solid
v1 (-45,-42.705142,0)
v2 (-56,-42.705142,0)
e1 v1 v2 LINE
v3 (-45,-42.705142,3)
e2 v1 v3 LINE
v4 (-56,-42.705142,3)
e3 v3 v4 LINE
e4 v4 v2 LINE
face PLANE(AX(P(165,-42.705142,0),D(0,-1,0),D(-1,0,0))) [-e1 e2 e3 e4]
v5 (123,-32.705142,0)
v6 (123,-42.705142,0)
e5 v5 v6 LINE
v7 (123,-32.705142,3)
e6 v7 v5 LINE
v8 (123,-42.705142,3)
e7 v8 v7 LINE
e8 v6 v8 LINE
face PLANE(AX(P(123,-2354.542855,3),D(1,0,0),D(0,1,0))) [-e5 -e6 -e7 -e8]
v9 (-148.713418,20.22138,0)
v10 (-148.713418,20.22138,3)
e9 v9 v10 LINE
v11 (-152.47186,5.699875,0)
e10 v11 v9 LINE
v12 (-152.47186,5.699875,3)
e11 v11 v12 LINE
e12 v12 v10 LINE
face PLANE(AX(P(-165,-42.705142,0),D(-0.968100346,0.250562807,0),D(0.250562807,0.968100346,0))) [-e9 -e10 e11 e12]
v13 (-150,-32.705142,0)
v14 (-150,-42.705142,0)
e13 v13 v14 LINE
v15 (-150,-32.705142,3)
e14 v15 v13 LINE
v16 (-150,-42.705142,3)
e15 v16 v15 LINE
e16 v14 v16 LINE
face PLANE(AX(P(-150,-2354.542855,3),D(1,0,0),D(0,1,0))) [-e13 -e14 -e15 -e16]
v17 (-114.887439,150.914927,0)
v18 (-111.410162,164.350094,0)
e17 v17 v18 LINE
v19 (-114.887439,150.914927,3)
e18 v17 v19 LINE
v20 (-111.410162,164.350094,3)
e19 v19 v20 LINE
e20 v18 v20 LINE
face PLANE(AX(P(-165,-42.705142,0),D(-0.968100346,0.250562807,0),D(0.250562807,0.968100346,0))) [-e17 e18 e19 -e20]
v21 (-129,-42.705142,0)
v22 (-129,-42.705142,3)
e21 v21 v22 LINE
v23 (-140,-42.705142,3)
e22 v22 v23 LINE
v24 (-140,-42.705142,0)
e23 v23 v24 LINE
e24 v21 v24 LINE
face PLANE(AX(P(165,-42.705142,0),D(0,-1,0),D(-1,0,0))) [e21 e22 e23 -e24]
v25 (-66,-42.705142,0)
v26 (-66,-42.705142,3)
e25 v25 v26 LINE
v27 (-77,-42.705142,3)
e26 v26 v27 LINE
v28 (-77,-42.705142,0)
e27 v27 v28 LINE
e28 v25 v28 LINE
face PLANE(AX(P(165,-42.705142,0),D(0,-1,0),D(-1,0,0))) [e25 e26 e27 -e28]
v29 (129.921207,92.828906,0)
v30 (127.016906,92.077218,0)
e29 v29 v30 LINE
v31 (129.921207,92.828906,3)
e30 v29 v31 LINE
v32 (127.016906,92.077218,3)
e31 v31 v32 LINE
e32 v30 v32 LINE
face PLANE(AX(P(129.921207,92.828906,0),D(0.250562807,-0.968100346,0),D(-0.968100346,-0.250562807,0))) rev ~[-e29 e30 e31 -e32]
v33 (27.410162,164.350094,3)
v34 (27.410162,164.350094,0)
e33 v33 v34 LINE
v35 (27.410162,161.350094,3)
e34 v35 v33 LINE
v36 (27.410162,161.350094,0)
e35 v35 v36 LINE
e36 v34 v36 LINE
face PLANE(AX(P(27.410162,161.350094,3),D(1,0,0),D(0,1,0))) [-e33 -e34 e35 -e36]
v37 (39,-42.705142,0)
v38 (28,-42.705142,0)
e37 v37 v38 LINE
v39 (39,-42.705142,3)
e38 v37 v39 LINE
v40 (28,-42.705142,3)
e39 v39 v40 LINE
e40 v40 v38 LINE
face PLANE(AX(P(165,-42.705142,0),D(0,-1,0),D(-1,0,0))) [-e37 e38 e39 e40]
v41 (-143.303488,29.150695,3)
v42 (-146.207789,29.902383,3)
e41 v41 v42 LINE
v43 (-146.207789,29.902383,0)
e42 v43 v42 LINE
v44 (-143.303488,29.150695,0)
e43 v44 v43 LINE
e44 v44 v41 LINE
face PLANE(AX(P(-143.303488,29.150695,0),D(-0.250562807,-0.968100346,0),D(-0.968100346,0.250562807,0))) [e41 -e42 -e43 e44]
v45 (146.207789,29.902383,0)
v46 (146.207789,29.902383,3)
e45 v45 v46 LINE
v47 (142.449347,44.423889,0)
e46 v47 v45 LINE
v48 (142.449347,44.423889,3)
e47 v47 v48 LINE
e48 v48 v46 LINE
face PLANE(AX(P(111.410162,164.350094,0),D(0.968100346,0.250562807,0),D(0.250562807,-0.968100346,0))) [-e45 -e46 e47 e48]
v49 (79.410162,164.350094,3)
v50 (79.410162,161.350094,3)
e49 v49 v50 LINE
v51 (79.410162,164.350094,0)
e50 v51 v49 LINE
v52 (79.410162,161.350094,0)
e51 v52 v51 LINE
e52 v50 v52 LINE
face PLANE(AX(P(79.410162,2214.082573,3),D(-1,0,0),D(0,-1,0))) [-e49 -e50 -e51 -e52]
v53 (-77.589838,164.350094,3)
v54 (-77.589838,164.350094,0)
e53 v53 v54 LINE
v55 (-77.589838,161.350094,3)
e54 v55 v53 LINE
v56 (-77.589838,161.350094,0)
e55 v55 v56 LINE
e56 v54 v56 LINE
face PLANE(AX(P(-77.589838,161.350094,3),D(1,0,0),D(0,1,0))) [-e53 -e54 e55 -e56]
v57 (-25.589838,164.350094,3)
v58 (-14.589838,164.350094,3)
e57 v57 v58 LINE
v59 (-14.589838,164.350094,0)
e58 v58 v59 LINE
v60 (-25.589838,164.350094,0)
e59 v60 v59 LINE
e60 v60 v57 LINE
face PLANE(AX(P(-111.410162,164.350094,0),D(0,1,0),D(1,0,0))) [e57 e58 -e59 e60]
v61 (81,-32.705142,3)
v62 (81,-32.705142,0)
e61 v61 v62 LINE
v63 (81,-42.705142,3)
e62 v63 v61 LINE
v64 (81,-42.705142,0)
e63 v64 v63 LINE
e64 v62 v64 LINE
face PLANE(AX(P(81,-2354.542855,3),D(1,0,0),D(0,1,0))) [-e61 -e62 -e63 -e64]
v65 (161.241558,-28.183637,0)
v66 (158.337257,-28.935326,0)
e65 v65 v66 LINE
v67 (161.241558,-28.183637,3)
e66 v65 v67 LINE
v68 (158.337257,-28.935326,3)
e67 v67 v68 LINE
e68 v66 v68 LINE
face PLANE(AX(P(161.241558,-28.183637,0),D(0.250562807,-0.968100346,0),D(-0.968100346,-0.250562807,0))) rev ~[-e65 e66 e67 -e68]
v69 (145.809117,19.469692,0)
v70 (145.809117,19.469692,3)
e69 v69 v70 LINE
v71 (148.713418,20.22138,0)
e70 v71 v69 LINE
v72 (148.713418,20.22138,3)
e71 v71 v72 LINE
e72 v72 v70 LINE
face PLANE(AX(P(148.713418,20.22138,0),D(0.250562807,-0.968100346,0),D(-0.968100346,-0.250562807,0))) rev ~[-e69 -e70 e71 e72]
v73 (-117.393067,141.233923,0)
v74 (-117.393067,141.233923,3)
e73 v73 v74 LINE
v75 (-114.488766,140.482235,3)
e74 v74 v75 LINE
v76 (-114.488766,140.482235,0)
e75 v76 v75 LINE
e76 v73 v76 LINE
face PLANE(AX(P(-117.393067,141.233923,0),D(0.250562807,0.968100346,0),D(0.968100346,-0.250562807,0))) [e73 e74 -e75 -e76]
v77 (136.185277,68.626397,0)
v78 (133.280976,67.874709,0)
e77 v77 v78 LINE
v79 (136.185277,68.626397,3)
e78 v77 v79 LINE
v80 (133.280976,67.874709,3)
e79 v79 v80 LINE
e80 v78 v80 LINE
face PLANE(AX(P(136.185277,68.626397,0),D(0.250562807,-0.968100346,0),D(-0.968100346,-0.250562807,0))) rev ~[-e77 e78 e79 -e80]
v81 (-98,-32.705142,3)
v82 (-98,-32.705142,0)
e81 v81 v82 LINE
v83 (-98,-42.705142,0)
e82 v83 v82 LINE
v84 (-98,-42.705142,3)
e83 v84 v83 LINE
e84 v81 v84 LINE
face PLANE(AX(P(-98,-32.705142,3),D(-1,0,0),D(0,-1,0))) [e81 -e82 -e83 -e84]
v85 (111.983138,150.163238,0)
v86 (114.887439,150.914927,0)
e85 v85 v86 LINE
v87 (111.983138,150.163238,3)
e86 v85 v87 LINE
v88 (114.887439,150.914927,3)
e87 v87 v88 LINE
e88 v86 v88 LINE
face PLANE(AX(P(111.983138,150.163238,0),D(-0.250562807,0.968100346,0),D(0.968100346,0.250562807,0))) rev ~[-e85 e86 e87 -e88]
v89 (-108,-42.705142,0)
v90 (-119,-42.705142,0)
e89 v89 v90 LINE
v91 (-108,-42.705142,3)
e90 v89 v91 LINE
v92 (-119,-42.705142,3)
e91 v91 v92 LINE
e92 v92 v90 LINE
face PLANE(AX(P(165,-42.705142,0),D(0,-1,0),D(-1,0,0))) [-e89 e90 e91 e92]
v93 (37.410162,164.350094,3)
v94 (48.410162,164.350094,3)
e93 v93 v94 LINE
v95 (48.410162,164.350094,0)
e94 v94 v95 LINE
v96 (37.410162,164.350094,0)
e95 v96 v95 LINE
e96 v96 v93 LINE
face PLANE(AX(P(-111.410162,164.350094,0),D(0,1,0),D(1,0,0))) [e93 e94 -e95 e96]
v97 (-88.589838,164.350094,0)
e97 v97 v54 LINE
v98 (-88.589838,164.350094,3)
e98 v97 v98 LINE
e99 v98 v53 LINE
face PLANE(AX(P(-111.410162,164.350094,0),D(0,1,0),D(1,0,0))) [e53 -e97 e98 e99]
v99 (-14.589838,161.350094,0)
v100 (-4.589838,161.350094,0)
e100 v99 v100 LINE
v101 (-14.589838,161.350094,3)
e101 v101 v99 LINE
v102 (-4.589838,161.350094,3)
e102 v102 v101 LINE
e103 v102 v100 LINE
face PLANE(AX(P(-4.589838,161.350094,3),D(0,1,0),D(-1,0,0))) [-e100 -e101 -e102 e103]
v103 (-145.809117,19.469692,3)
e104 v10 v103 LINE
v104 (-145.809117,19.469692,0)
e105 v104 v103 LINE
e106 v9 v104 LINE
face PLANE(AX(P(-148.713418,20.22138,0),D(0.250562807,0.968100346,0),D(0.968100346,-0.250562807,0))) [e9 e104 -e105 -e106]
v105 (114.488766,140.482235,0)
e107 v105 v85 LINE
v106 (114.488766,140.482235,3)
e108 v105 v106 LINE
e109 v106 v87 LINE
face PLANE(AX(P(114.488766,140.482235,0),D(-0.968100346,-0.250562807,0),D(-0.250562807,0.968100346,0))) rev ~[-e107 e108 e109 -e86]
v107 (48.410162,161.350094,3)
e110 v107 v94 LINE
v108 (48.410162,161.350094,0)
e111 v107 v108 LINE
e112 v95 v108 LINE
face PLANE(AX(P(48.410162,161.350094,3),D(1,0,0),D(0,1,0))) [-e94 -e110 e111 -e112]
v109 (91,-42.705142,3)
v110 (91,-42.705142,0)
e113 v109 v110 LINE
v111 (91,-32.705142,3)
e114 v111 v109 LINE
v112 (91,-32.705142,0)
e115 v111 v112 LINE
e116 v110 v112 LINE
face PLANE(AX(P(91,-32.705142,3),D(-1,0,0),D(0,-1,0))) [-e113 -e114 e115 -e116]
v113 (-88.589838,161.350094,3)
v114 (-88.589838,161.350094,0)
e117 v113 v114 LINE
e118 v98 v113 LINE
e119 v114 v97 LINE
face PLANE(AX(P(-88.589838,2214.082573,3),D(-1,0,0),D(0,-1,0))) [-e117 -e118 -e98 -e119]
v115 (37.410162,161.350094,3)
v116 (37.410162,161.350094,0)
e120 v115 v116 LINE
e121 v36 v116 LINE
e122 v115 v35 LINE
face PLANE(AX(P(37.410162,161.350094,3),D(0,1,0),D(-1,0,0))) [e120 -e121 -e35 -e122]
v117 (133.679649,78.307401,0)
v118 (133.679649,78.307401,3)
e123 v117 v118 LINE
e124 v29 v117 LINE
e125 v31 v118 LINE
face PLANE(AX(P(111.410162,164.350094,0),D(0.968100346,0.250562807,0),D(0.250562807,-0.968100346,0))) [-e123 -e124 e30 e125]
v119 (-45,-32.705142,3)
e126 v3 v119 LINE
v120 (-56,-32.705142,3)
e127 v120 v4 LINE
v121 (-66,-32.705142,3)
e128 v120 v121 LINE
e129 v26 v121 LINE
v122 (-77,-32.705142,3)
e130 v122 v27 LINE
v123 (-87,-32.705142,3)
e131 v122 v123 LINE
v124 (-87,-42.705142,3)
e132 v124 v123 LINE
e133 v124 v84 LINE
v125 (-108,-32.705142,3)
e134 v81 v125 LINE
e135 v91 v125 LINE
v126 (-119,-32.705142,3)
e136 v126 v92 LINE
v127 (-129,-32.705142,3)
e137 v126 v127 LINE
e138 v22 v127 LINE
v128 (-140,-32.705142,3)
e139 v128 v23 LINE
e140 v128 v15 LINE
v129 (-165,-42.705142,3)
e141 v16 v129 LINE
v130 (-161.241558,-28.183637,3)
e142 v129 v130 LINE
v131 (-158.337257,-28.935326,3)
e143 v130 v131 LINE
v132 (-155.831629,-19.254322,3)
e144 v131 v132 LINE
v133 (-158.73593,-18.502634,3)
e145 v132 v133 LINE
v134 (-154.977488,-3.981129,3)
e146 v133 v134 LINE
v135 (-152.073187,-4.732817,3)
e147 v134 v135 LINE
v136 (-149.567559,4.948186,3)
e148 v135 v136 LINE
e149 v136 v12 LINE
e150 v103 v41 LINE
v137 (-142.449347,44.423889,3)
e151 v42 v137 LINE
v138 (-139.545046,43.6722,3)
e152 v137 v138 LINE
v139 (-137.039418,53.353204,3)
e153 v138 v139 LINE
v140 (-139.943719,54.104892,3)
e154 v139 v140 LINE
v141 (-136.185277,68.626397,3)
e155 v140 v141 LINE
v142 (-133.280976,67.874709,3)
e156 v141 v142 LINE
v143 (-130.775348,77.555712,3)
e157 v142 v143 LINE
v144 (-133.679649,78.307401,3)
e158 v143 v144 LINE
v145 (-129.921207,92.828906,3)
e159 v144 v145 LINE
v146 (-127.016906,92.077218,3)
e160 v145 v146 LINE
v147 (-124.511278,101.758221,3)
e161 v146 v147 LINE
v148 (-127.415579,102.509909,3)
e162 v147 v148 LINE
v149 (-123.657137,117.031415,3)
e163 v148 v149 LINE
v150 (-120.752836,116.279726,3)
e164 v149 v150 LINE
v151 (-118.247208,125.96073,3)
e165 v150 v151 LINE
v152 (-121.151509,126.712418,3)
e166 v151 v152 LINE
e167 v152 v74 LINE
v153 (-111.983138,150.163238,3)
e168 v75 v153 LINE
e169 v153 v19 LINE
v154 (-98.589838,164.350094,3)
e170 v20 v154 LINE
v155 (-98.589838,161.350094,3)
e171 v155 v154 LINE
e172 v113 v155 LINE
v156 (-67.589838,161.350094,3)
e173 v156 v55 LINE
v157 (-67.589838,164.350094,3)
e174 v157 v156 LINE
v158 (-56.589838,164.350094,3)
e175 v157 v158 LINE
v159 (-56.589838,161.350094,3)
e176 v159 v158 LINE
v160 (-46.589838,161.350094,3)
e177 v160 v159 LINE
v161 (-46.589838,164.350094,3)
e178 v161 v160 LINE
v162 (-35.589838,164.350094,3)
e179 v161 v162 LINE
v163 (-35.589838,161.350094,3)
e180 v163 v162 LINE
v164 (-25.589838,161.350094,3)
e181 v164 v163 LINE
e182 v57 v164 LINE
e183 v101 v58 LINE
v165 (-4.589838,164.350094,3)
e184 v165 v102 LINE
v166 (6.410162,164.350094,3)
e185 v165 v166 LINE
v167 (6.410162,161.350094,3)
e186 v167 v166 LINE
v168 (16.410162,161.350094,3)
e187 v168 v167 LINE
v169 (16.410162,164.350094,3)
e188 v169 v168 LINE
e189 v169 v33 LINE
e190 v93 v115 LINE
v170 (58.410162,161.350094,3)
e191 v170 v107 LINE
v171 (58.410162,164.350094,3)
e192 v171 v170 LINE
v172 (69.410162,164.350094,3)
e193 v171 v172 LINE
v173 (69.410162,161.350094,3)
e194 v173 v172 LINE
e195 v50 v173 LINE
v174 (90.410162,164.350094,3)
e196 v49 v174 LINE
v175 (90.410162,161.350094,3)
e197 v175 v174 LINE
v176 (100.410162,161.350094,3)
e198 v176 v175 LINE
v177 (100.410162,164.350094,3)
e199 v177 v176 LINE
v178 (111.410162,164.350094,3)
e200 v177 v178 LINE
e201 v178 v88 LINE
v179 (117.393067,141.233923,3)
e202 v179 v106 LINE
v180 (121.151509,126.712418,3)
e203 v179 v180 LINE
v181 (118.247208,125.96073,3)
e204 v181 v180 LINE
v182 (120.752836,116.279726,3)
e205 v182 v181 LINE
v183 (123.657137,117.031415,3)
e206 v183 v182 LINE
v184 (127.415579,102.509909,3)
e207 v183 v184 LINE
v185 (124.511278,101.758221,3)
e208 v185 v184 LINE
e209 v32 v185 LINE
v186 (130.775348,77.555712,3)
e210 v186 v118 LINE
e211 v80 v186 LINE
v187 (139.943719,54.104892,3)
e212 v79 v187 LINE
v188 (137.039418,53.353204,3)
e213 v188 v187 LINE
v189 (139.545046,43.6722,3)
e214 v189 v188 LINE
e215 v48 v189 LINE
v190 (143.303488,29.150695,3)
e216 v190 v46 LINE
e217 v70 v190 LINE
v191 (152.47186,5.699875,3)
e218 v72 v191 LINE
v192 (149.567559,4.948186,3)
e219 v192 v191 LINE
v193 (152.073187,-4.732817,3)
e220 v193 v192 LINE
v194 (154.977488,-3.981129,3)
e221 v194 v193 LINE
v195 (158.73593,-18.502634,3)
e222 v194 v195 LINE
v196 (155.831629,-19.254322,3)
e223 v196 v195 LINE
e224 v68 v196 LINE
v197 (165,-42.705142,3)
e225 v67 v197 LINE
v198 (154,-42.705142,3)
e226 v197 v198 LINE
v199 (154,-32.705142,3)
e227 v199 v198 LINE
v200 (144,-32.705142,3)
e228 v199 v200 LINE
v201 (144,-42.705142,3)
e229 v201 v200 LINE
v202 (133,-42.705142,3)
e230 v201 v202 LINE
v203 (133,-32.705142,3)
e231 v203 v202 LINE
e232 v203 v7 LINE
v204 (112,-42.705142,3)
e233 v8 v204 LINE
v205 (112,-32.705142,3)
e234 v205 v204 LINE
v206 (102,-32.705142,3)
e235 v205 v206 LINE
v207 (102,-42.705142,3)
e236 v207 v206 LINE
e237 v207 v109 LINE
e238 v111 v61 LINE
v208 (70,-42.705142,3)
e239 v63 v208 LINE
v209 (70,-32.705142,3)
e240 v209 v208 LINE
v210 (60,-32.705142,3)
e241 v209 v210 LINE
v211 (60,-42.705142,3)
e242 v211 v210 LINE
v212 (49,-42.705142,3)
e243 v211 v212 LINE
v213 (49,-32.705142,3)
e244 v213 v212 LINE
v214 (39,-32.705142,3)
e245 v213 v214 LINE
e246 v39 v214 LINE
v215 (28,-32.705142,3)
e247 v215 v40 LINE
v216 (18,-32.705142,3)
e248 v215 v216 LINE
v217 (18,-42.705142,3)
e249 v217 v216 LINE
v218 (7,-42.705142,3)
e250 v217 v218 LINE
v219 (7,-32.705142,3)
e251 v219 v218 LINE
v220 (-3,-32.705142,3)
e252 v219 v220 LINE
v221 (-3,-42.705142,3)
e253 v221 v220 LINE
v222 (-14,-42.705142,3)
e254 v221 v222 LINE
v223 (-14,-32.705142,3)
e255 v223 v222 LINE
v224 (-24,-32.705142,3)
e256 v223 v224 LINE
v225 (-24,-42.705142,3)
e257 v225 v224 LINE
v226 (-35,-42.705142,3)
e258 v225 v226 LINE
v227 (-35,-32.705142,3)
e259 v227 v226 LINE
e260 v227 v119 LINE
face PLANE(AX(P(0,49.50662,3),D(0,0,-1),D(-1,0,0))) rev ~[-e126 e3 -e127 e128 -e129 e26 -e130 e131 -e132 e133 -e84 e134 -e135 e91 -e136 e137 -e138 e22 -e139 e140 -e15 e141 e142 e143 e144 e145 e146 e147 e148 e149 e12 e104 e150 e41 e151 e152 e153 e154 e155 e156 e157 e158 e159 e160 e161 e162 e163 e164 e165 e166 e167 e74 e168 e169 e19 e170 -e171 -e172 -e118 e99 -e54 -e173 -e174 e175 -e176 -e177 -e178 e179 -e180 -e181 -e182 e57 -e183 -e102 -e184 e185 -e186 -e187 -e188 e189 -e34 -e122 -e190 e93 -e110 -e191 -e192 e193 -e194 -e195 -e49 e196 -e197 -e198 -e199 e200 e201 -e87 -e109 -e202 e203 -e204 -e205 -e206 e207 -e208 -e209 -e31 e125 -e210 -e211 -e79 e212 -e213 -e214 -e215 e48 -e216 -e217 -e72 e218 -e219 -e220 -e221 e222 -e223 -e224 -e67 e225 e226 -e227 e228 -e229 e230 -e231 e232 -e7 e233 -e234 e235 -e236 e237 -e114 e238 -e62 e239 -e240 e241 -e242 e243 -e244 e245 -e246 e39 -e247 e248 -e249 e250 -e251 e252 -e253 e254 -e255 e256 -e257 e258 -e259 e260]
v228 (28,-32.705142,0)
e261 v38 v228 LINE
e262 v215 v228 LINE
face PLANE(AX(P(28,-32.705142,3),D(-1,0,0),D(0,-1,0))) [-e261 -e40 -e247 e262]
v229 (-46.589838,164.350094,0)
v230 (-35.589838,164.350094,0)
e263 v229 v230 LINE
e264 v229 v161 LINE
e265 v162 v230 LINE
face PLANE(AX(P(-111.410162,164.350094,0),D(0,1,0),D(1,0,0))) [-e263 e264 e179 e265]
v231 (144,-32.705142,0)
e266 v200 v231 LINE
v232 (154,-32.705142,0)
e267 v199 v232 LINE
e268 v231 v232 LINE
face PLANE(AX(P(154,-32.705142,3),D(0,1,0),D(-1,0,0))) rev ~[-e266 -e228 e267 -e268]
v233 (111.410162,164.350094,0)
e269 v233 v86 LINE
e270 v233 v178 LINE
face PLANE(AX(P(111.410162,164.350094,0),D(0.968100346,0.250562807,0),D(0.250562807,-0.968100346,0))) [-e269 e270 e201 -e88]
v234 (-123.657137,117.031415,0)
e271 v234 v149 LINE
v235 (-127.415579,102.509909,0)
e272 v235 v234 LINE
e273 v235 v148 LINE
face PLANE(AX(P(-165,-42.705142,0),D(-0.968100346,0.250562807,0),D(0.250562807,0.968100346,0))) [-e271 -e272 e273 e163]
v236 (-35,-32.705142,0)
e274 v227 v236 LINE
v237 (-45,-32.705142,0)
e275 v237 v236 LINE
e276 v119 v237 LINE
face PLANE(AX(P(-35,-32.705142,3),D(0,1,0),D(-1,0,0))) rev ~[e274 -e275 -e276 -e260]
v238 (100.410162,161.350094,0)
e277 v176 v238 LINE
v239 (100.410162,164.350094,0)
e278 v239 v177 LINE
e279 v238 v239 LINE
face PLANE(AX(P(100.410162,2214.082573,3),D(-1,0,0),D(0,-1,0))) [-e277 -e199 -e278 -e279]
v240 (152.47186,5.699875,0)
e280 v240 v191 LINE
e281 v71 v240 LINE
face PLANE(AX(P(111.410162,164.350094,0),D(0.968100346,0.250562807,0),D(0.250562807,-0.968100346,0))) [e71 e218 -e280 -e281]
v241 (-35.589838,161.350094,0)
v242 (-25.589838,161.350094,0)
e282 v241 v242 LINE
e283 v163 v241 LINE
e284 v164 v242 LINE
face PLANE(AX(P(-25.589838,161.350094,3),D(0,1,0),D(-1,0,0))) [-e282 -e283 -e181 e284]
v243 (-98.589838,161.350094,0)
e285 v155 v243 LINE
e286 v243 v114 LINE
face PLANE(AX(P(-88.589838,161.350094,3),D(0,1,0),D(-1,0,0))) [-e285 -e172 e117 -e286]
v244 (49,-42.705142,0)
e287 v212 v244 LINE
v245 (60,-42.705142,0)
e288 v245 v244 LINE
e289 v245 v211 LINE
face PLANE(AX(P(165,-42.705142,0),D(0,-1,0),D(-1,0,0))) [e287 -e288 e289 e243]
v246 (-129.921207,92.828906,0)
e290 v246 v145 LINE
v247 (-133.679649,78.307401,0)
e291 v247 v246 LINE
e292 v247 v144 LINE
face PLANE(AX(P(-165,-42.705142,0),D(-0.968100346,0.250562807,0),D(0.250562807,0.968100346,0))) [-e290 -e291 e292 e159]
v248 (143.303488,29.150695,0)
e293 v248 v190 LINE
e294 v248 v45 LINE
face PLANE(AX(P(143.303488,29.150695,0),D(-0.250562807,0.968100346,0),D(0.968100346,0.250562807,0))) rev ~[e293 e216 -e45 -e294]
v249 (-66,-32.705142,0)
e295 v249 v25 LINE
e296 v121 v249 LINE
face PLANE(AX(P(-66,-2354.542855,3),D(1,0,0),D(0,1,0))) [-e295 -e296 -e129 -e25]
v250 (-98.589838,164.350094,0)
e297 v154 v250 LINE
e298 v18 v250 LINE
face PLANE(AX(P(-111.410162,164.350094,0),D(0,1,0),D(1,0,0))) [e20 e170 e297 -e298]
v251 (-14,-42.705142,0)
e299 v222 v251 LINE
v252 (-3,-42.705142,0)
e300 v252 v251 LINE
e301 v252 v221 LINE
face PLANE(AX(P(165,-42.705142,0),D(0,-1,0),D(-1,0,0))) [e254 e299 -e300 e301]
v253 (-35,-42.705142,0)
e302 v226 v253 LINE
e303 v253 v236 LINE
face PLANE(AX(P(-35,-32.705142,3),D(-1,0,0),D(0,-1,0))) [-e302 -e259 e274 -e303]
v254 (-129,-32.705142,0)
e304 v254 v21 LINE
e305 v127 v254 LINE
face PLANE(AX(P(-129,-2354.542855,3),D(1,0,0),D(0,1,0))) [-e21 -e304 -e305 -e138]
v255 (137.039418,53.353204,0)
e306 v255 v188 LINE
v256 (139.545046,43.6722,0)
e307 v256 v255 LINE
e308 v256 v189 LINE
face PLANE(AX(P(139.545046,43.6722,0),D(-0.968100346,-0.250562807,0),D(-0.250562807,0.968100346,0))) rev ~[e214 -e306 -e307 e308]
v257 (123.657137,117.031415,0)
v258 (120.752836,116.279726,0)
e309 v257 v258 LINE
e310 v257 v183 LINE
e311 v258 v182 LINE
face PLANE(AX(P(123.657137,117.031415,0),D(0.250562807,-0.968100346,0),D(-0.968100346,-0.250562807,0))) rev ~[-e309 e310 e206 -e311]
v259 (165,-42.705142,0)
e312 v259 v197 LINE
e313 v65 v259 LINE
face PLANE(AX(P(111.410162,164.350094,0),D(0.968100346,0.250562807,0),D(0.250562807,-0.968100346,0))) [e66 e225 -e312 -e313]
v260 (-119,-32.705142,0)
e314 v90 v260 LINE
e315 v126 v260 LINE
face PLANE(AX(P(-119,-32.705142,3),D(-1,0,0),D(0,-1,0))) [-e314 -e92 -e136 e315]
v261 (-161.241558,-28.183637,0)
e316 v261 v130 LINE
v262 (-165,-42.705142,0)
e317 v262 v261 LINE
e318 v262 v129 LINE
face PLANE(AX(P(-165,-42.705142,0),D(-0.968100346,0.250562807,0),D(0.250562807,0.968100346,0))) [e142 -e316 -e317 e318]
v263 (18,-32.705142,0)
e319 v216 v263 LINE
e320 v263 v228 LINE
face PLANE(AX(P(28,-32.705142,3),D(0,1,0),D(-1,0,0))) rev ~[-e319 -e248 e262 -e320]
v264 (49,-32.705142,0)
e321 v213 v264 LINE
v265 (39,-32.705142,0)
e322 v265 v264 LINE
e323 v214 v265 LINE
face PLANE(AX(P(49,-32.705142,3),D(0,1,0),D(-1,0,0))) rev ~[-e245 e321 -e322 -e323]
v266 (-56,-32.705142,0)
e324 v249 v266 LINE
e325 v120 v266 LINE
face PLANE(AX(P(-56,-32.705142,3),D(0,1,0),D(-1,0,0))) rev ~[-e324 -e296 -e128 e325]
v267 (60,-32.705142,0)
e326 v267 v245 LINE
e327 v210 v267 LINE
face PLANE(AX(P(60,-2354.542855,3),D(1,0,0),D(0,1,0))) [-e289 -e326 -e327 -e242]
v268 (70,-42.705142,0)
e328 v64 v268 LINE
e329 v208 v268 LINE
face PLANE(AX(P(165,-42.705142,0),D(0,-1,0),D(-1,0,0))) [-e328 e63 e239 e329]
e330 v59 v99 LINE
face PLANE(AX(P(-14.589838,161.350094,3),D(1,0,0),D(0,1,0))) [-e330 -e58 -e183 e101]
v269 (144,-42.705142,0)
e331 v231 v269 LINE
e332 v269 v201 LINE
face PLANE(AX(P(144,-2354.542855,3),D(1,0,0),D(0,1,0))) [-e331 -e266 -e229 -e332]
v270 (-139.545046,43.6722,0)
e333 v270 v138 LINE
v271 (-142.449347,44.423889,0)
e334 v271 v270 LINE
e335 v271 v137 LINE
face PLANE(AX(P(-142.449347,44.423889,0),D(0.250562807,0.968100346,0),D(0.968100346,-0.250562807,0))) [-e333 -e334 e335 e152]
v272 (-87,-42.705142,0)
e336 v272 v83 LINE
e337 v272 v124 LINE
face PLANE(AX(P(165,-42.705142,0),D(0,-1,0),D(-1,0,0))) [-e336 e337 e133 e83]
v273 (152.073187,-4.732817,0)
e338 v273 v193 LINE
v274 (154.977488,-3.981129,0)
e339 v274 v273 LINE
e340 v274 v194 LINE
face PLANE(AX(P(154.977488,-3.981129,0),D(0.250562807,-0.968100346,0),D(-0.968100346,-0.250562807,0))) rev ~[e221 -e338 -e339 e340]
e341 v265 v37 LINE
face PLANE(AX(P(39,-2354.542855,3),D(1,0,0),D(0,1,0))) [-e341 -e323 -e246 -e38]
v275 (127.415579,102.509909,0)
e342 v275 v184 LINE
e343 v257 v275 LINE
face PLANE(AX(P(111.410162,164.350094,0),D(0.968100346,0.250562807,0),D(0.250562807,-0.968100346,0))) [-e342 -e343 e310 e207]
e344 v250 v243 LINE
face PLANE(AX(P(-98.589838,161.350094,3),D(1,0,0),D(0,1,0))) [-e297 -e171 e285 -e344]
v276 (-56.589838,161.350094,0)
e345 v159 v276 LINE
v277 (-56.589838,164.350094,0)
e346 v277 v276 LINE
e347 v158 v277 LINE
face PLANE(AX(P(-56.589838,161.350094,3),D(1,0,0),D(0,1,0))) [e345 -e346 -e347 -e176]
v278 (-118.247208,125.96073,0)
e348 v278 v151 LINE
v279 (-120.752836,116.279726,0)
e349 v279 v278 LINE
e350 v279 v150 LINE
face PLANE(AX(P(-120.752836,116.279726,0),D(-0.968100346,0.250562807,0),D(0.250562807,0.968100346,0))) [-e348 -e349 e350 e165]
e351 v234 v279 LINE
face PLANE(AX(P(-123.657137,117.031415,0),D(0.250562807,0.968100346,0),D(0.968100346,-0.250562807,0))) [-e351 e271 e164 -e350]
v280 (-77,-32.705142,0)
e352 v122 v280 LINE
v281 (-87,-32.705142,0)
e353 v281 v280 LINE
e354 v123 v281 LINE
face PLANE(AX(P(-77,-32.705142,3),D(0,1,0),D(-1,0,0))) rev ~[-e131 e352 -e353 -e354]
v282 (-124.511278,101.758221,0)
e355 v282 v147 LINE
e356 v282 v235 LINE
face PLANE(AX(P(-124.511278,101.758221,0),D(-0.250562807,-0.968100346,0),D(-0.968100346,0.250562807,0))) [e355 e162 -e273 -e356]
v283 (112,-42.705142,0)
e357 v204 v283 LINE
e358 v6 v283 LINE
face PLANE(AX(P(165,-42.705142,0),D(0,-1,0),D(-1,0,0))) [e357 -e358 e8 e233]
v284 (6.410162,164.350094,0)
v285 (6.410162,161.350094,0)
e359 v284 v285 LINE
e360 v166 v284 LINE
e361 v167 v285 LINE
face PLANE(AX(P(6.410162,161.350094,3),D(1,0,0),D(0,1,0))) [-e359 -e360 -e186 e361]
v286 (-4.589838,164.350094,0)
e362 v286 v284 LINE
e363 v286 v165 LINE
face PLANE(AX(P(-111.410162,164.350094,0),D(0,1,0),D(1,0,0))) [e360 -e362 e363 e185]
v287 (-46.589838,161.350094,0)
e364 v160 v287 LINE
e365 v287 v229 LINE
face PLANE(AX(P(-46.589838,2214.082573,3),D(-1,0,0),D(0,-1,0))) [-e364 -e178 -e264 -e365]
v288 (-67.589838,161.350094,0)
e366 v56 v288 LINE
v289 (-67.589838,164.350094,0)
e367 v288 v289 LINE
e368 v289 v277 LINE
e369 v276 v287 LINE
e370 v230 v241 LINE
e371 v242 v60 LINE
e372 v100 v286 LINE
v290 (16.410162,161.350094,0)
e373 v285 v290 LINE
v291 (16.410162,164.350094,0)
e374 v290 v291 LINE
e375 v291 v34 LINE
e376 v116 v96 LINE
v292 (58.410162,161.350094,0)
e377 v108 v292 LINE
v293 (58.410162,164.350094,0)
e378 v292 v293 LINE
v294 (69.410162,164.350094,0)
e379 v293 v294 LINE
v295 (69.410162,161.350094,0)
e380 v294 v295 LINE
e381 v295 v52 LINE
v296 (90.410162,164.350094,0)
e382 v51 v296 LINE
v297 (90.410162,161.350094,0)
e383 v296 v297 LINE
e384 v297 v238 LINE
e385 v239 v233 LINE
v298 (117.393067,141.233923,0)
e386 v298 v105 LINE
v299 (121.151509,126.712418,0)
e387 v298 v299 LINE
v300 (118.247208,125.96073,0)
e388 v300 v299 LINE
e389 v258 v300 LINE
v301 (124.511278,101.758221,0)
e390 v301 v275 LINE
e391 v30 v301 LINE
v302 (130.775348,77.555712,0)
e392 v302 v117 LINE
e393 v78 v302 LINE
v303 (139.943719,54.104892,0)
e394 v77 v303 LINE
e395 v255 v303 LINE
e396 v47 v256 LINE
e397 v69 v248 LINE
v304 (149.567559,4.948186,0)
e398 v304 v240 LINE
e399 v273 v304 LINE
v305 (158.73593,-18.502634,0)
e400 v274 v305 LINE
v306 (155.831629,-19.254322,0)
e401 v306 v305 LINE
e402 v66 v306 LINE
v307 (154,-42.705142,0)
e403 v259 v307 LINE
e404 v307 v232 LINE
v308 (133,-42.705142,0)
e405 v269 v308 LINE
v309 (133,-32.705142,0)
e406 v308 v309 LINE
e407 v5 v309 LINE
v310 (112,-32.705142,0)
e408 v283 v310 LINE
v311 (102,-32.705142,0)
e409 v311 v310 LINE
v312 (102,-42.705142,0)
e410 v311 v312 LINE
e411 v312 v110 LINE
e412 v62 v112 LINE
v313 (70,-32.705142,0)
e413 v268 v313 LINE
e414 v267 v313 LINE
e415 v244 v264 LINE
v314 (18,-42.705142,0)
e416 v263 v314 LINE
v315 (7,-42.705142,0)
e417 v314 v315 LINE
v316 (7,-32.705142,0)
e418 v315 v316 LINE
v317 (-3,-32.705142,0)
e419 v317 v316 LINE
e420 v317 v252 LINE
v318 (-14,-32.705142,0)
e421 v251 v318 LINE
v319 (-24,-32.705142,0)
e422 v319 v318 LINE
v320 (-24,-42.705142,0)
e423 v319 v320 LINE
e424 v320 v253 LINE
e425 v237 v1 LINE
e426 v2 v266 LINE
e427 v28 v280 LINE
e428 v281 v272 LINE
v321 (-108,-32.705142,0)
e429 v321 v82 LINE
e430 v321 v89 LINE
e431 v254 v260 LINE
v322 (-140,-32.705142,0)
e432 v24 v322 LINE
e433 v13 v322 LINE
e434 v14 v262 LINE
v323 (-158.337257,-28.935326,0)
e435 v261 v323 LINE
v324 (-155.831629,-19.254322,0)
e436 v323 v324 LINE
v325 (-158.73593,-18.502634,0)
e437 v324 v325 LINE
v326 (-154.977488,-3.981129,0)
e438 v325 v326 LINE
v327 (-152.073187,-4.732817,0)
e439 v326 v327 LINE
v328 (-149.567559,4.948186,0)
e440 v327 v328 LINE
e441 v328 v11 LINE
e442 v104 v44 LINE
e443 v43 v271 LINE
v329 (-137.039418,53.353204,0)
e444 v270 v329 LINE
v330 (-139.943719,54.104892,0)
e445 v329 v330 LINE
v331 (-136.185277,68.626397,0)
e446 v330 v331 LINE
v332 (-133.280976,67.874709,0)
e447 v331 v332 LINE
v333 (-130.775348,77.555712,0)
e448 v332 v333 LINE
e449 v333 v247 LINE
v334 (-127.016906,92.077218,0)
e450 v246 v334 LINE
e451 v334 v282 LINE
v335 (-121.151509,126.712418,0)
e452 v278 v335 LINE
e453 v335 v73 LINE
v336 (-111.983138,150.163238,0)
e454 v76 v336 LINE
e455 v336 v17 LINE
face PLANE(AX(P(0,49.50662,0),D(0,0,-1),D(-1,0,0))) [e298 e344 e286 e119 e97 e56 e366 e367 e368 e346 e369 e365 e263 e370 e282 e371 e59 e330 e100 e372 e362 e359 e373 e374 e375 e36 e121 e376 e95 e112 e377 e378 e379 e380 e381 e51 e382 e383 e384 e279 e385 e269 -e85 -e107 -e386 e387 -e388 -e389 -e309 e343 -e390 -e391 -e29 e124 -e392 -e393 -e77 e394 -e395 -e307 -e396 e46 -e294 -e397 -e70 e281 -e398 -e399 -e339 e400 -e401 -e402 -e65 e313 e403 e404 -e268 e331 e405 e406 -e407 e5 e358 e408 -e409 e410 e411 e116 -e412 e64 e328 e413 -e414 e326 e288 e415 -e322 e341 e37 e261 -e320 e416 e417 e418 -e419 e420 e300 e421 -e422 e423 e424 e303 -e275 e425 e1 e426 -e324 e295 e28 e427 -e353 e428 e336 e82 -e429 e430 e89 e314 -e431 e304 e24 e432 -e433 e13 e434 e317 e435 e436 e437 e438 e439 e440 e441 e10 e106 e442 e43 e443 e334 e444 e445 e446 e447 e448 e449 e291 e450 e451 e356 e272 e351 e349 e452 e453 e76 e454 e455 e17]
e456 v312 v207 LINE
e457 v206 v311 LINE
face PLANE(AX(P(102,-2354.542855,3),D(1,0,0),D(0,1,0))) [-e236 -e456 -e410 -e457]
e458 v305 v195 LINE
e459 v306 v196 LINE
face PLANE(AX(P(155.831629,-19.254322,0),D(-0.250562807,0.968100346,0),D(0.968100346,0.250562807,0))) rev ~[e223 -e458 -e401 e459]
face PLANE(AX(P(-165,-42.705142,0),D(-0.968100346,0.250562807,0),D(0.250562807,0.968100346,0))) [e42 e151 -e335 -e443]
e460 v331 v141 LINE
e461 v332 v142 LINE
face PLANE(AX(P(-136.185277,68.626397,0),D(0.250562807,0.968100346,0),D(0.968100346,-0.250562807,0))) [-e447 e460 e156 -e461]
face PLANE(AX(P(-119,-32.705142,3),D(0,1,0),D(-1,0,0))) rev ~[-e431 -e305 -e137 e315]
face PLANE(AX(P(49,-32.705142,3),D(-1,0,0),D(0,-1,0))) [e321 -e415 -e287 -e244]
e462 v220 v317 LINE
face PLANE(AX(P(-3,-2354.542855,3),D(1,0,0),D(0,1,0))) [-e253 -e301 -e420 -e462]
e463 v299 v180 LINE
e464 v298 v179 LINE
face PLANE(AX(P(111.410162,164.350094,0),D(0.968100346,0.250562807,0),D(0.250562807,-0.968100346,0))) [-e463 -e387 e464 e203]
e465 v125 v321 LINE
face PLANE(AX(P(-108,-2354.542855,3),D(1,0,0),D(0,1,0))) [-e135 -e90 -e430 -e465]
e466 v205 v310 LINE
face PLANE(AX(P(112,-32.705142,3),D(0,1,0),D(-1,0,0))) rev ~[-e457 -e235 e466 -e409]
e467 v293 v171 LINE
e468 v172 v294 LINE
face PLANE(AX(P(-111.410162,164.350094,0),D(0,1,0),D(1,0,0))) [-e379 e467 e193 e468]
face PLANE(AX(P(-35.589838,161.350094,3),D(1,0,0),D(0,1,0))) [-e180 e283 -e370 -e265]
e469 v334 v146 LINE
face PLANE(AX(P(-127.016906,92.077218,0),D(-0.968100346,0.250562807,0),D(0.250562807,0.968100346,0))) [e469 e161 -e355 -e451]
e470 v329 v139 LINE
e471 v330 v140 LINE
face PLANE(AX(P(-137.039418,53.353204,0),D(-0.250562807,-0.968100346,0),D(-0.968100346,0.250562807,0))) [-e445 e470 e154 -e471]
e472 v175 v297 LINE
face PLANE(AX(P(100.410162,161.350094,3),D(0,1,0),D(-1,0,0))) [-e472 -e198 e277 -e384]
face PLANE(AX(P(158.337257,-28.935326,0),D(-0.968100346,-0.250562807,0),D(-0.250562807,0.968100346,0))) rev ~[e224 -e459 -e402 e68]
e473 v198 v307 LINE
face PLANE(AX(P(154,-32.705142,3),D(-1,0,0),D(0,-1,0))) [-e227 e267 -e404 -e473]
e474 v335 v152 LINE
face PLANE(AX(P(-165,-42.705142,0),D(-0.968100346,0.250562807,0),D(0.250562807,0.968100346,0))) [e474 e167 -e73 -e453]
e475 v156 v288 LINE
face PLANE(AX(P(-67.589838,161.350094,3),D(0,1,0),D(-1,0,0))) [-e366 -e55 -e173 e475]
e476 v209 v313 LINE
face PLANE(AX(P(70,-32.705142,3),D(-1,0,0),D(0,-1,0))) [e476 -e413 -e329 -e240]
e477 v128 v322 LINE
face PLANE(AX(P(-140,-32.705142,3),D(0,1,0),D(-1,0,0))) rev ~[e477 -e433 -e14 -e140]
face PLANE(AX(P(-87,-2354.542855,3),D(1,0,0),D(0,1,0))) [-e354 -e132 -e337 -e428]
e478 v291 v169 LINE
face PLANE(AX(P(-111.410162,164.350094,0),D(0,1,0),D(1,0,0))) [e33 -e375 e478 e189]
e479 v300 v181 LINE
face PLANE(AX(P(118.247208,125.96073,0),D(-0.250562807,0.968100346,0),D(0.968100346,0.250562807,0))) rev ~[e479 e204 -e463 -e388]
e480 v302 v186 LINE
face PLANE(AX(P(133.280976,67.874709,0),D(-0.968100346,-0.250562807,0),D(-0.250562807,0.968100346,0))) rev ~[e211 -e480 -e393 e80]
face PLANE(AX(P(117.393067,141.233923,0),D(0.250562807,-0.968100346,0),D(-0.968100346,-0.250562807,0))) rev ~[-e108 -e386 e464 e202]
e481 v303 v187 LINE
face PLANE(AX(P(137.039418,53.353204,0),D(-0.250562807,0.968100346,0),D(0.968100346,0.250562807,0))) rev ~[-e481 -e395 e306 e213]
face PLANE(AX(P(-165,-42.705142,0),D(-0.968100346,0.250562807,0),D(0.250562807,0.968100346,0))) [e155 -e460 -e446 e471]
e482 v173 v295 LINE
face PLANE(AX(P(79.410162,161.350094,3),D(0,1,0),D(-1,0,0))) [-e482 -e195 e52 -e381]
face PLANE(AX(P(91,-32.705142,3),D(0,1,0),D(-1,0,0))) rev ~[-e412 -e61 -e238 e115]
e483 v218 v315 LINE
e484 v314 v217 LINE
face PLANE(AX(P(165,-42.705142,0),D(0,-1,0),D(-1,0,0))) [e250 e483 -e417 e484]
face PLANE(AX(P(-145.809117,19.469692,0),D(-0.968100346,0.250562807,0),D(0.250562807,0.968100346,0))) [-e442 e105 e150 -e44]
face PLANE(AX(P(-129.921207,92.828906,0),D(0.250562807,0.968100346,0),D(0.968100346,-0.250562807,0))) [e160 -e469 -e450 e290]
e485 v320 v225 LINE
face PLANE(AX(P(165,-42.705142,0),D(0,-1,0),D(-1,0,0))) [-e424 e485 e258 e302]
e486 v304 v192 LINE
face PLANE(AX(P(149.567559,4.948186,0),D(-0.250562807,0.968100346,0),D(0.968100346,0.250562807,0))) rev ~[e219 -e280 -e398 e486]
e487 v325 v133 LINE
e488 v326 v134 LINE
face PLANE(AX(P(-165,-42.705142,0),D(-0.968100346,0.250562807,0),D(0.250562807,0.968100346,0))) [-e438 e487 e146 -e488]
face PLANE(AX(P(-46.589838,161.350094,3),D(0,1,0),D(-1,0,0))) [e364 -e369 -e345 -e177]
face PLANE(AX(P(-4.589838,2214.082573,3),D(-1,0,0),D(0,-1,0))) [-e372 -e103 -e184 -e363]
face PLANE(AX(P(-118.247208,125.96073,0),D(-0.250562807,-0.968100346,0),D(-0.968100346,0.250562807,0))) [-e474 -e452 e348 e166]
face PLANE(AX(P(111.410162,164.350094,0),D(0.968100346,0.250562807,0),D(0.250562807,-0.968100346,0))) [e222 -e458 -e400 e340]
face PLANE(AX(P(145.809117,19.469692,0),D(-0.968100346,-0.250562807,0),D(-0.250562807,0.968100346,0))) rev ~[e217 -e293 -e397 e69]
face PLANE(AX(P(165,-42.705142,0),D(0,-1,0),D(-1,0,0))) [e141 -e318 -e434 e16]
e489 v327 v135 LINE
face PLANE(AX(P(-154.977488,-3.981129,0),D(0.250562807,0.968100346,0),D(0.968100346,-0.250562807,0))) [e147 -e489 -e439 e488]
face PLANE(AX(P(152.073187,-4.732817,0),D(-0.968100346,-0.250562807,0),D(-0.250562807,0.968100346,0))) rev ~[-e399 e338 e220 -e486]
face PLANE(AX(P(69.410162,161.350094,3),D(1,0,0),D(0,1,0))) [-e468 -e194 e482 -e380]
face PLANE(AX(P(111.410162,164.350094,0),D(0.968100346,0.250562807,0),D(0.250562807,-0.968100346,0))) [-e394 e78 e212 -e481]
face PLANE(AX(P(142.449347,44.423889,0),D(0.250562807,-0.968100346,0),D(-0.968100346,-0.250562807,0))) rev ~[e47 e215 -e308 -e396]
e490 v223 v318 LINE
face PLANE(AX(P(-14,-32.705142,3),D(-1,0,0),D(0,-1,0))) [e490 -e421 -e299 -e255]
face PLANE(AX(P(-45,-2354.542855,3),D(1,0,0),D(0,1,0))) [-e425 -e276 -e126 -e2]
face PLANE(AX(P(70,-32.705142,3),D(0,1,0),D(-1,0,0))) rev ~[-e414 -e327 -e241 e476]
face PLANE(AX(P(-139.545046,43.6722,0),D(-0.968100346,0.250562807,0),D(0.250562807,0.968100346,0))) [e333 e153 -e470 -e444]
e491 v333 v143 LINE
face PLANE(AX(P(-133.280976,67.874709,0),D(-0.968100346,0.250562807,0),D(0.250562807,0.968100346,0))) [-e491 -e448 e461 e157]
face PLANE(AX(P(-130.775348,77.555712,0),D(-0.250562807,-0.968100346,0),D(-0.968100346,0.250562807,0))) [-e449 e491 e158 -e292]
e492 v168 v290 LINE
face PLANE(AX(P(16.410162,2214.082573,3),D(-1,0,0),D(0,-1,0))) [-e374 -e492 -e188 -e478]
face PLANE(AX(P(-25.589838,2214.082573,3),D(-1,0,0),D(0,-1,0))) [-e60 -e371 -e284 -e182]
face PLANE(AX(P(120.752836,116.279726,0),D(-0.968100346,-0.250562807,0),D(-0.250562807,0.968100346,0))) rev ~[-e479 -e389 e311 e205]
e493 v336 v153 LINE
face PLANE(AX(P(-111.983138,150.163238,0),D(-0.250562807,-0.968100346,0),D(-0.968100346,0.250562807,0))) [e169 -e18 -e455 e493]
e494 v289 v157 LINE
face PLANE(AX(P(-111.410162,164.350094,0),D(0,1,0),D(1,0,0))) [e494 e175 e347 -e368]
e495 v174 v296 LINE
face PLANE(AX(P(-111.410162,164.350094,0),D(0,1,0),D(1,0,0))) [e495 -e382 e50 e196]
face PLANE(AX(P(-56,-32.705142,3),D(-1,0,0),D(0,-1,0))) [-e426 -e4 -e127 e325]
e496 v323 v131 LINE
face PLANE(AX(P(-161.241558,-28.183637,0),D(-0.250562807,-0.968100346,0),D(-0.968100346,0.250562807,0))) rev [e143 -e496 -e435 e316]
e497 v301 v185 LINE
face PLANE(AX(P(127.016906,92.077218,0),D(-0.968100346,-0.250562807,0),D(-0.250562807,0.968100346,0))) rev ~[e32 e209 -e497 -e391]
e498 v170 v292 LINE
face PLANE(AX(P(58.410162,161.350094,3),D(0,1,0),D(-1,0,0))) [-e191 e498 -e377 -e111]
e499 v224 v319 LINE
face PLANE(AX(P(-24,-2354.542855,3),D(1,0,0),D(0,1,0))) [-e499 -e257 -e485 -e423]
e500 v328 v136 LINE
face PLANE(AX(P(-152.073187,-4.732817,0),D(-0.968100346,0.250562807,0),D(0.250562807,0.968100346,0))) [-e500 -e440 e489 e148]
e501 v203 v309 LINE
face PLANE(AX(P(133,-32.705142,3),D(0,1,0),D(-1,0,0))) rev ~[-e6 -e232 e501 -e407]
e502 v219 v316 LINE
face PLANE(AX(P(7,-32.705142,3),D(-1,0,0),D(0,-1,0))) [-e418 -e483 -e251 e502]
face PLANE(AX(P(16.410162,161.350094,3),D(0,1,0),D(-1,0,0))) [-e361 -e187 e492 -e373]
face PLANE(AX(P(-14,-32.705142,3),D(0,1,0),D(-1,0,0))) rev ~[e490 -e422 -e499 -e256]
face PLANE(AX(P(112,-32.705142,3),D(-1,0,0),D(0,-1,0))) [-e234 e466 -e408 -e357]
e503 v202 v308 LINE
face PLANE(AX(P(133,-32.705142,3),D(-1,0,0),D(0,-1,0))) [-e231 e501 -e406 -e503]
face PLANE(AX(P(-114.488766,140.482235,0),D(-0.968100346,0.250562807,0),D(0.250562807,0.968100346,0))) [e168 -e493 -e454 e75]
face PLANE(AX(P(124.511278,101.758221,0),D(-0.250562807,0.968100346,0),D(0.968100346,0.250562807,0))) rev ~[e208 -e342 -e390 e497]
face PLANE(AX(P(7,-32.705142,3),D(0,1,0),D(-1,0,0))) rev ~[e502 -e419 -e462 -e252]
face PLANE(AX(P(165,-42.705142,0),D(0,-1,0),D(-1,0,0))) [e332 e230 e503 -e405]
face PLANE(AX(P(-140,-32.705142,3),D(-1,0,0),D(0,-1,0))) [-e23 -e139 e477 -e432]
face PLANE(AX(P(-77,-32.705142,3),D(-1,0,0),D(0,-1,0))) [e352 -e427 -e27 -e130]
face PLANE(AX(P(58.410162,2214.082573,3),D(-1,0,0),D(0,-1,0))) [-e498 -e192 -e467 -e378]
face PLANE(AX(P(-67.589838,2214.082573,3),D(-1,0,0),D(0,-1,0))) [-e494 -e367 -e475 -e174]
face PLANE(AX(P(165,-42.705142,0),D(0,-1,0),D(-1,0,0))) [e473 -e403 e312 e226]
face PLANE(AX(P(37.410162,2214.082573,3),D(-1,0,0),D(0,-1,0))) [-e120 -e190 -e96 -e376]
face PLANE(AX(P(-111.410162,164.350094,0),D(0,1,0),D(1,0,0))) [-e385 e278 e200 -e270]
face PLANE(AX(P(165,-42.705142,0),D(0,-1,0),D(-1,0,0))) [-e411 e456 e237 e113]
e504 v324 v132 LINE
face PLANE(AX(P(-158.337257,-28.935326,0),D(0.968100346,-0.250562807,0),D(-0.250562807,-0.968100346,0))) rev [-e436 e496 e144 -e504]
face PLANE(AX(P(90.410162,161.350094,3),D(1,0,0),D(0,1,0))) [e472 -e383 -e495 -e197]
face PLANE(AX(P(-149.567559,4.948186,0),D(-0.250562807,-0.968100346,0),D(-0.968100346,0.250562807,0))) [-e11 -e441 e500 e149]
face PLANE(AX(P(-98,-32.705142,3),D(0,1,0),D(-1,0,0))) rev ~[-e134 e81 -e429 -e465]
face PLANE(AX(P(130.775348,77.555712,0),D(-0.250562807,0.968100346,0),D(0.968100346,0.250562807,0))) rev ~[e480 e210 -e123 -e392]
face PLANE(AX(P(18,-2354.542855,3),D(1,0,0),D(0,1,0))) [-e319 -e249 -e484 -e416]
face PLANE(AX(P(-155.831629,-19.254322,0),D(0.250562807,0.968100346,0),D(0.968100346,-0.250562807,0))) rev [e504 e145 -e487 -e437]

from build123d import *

# Parameters (mm, degrees)
BOSS_EXTRUDE1_DEPTH  = 3
CUT_EXTRUDE1_DEPTH   = 3
LPATTERN1_COUNT      = 8
LPATTERN1_PITCH      = 25
MIRROR1_COPY_1_DEPTH = 3
MIRROR1_COPY_2_DEPTH = 3
MIRROR1_COPY_3_DEPTH = 3
MIRROR1_COPY_4_DEPTH = 3
MIRROR1_COPY_5_DEPTH = 3
MIRROR1_COPY_6_DEPTH = 3
MIRROR1_COPY_7_DEPTH = 3
CUT_EXTRUDE3_START   = -3
CUT_EXTRUDE3_DEPTH   = 236.905459961
LPATTERN2_COUNT      = 15
LPATTERN2_PITCH      = 21
CUT_EXTRUDE5_START   = -3
CUT_EXTRUDE5_DEPTH   = 236.905459961
LPATTERN3_COUNT      = 10
LPATTERN3_PITCH      = 21


with BuildPart() as part:
    # Sketch2 → Boss-Extrude1 (new body)
    with BuildSketch(Plane.XY):
        Polygon((-111.410161514, 164.35009364), (111.410161514, 164.35009364), (165, -42.705142442), (-165, -42.705142442), align=None)
    extrude(amount=BOSS_EXTRUDE1_DEPTH)

    # Sketch3 → Cut-Extrude1 (cut)
    with BuildSketch(Plane(origin=(0, 0, 0), x_dir=(-1, 0, 0), z_dir=(0, 0, -1))):
        Polygon((-161.241557894, -28.183637254), (-158.337256856, -28.935325675), (-155.831628785, -19.254322216), (-158.735929823, -18.502633795), align=None)
    cut_extrude1 = extrude(amount=-CUT_EXTRUDE1_DEPTH, mode=Mode.SUBTRACT)

    # LPattern1: Cut-Extrude1 ×8
    with Locations(*[Vector(-0.25056280708573136, 0.9681003458863748, 0) * (i * LPATTERN1_PITCH) for i in range(1, LPATTERN1_COUNT)]):
        add(cut_extrude1, mode=Mode.SUBTRACT)

    # Mirror1: Cut-Extrude1 across plane
    add(cut_extrude1.mirror(Plane(origin=(0, 0, 0), x_dir=(0, 0, 1), z_dir=(1, 0, 0))), mode=Mode.SUBTRACT)

    # Mirror1 copy 1 sketch → Mirror1 copy 1 (cut)
    with BuildSketch(Plane(origin=(6.264070177, 24.202508647, 0), x_dir=(1, 0, 0), z_dir=(0, 0, -1))):
        Polygon((-161.241557894, 28.183637254), (-158.337256856, 28.935325675), (-155.831628785, 19.254322216), (-158.735929823, 18.502633795), align=None)
    extrude(amount=-MIRROR1_COPY_1_DEPTH, mode=Mode.SUBTRACT)

    # Mirror1 copy 2 sketch → Mirror1 copy 2 (cut)
    with BuildSketch(Plane(origin=(12.528140354, 48.405017294, 0), x_dir=(1, 0, 0), z_dir=(0, 0, -1))):
        Polygon((-161.241557894, 28.183637254), (-158.337256856, 28.935325675), (-155.831628785, 19.254322216), (-158.735929823, 18.502633795), align=None)
    extrude(amount=-MIRROR1_COPY_2_DEPTH, mode=Mode.SUBTRACT)

    # Mirror1 copy 3 sketch → Mirror1 copy 3 (cut)
    with BuildSketch(Plane(origin=(18.792210531, 72.607525941, 0), x_dir=(1, 0, 0), z_dir=(0, 0, -1))):
        Polygon((-161.241557894, 28.183637254), (-158.337256856, 28.935325675), (-155.831628785, 19.254322216), (-158.735929823, 18.502633795), align=None)
    extrude(amount=-MIRROR1_COPY_3_DEPTH, mode=Mode.SUBTRACT)

    # Mirror1 copy 4 sketch → Mirror1 copy 4 (cut)
    with BuildSketch(Plane(origin=(25.056280709, 96.810034589, 0), x_dir=(1, 0, 0), z_dir=(0, 0, -1))):
        Polygon((-161.241557894, 28.183637254), (-158.337256856, 28.935325675), (-155.831628785, 19.254322216), (-158.735929823, 18.502633795), align=None)
    extrude(amount=-MIRROR1_COPY_4_DEPTH, mode=Mode.SUBTRACT)

    # Mirror1 copy 5 sketch → Mirror1 copy 5 (cut)
    with BuildSketch(Plane(origin=(31.320350886, 121.012543236, 0), x_dir=(1, 0, 0), z_dir=(0, 0, -1))):
        Polygon((-161.241557894, 28.183637254), (-158.337256856, 28.935325675), (-155.831628785, 19.254322216), (-158.735929823, 18.502633795), align=None)
    extrude(amount=-MIRROR1_COPY_5_DEPTH, mode=Mode.SUBTRACT)

    # Mirror1 copy 6 sketch → Mirror1 copy 6 (cut)
    with BuildSketch(Plane(origin=(37.584421063, 145.215051883, 0), x_dir=(1, 0, 0), z_dir=(0, 0, -1))):
        Polygon((-161.241557894, 28.183637254), (-158.337256856, 28.935325675), (-155.831628785, 19.254322216), (-158.735929823, 18.502633795), align=None)
    extrude(amount=-MIRROR1_COPY_6_DEPTH, mode=Mode.SUBTRACT)

    # Mirror1 copy 7 sketch → Mirror1 copy 7 (cut)
    with BuildSketch(Plane(origin=(43.84849124, 169.41756053, 0), x_dir=(1, 0, 0), z_dir=(0, 0, -1))):
        Polygon((-161.241557894, 28.183637254), (-158.337256856, 28.935325675), (-155.831628785, 19.254322216), (-158.735929823, 18.502633795), align=None)
    extrude(amount=-MIRROR1_COPY_7_DEPTH, mode=Mode.SUBTRACT)

    # Sketch4 → Cut-Extrude3 (cut)
    with BuildSketch(Plane(origin=(0, 0, 0), x_dir=(-1, 0, 0), z_dir=(0, 0, -1)).offset(CUT_EXTRUDE3_START)):
        Polygon((-154, -813.317713437), (-154, -42.705142442), (-154, -32.705142442), (-144, -32.705142442), (-144, -42.705142442), (-144, -813.317713437), (-144, -2354.542855427), (-154, -2354.542855427), align=None)
    cut_extrude3 = extrude(amount=CUT_EXTRUDE3_DEPTH, mode=Mode.SUBTRACT)

    # LPattern2: Cut-Extrude3 ×15
    with Locations(*[(-i * LPATTERN2_PITCH, 0, 0) for i in range(1, LPATTERN2_COUNT)]):
        add(cut_extrude3, mode=Mode.SUBTRACT)

    # Sketch5 → Cut-Extrude5 (cut)
    with BuildSketch(Plane(origin=(0, 0, 0), x_dir=(-1, 0, 0), z_dir=(0, 0, -1)).offset(CUT_EXTRUDE5_START)):
        Polygon((-100.410161514, 847.594253284), (-100.410161514, 164.35009364), (-100.410161514, 161.35009364), (-90.410161514, 161.35009364), (-90.410161514, 164.35009364), (-90.410161514, 847.594253284), (-90.410161514, 2214.082572573), (-100.410161514, 2214.082572573), align=None)
    cut_extrude5 = extrude(amount=CUT_EXTRUDE5_DEPTH, mode=Mode.SUBTRACT)

    # LPattern3: Cut-Extrude5 ×10
    with Locations(*[(-i * LPATTERN3_PITCH, 0, 0) for i in range(1, LPATTERN3_COUNT)]):
        add(cut_extrude5, mode=Mode.SUBTRACT)


solid = part.part
